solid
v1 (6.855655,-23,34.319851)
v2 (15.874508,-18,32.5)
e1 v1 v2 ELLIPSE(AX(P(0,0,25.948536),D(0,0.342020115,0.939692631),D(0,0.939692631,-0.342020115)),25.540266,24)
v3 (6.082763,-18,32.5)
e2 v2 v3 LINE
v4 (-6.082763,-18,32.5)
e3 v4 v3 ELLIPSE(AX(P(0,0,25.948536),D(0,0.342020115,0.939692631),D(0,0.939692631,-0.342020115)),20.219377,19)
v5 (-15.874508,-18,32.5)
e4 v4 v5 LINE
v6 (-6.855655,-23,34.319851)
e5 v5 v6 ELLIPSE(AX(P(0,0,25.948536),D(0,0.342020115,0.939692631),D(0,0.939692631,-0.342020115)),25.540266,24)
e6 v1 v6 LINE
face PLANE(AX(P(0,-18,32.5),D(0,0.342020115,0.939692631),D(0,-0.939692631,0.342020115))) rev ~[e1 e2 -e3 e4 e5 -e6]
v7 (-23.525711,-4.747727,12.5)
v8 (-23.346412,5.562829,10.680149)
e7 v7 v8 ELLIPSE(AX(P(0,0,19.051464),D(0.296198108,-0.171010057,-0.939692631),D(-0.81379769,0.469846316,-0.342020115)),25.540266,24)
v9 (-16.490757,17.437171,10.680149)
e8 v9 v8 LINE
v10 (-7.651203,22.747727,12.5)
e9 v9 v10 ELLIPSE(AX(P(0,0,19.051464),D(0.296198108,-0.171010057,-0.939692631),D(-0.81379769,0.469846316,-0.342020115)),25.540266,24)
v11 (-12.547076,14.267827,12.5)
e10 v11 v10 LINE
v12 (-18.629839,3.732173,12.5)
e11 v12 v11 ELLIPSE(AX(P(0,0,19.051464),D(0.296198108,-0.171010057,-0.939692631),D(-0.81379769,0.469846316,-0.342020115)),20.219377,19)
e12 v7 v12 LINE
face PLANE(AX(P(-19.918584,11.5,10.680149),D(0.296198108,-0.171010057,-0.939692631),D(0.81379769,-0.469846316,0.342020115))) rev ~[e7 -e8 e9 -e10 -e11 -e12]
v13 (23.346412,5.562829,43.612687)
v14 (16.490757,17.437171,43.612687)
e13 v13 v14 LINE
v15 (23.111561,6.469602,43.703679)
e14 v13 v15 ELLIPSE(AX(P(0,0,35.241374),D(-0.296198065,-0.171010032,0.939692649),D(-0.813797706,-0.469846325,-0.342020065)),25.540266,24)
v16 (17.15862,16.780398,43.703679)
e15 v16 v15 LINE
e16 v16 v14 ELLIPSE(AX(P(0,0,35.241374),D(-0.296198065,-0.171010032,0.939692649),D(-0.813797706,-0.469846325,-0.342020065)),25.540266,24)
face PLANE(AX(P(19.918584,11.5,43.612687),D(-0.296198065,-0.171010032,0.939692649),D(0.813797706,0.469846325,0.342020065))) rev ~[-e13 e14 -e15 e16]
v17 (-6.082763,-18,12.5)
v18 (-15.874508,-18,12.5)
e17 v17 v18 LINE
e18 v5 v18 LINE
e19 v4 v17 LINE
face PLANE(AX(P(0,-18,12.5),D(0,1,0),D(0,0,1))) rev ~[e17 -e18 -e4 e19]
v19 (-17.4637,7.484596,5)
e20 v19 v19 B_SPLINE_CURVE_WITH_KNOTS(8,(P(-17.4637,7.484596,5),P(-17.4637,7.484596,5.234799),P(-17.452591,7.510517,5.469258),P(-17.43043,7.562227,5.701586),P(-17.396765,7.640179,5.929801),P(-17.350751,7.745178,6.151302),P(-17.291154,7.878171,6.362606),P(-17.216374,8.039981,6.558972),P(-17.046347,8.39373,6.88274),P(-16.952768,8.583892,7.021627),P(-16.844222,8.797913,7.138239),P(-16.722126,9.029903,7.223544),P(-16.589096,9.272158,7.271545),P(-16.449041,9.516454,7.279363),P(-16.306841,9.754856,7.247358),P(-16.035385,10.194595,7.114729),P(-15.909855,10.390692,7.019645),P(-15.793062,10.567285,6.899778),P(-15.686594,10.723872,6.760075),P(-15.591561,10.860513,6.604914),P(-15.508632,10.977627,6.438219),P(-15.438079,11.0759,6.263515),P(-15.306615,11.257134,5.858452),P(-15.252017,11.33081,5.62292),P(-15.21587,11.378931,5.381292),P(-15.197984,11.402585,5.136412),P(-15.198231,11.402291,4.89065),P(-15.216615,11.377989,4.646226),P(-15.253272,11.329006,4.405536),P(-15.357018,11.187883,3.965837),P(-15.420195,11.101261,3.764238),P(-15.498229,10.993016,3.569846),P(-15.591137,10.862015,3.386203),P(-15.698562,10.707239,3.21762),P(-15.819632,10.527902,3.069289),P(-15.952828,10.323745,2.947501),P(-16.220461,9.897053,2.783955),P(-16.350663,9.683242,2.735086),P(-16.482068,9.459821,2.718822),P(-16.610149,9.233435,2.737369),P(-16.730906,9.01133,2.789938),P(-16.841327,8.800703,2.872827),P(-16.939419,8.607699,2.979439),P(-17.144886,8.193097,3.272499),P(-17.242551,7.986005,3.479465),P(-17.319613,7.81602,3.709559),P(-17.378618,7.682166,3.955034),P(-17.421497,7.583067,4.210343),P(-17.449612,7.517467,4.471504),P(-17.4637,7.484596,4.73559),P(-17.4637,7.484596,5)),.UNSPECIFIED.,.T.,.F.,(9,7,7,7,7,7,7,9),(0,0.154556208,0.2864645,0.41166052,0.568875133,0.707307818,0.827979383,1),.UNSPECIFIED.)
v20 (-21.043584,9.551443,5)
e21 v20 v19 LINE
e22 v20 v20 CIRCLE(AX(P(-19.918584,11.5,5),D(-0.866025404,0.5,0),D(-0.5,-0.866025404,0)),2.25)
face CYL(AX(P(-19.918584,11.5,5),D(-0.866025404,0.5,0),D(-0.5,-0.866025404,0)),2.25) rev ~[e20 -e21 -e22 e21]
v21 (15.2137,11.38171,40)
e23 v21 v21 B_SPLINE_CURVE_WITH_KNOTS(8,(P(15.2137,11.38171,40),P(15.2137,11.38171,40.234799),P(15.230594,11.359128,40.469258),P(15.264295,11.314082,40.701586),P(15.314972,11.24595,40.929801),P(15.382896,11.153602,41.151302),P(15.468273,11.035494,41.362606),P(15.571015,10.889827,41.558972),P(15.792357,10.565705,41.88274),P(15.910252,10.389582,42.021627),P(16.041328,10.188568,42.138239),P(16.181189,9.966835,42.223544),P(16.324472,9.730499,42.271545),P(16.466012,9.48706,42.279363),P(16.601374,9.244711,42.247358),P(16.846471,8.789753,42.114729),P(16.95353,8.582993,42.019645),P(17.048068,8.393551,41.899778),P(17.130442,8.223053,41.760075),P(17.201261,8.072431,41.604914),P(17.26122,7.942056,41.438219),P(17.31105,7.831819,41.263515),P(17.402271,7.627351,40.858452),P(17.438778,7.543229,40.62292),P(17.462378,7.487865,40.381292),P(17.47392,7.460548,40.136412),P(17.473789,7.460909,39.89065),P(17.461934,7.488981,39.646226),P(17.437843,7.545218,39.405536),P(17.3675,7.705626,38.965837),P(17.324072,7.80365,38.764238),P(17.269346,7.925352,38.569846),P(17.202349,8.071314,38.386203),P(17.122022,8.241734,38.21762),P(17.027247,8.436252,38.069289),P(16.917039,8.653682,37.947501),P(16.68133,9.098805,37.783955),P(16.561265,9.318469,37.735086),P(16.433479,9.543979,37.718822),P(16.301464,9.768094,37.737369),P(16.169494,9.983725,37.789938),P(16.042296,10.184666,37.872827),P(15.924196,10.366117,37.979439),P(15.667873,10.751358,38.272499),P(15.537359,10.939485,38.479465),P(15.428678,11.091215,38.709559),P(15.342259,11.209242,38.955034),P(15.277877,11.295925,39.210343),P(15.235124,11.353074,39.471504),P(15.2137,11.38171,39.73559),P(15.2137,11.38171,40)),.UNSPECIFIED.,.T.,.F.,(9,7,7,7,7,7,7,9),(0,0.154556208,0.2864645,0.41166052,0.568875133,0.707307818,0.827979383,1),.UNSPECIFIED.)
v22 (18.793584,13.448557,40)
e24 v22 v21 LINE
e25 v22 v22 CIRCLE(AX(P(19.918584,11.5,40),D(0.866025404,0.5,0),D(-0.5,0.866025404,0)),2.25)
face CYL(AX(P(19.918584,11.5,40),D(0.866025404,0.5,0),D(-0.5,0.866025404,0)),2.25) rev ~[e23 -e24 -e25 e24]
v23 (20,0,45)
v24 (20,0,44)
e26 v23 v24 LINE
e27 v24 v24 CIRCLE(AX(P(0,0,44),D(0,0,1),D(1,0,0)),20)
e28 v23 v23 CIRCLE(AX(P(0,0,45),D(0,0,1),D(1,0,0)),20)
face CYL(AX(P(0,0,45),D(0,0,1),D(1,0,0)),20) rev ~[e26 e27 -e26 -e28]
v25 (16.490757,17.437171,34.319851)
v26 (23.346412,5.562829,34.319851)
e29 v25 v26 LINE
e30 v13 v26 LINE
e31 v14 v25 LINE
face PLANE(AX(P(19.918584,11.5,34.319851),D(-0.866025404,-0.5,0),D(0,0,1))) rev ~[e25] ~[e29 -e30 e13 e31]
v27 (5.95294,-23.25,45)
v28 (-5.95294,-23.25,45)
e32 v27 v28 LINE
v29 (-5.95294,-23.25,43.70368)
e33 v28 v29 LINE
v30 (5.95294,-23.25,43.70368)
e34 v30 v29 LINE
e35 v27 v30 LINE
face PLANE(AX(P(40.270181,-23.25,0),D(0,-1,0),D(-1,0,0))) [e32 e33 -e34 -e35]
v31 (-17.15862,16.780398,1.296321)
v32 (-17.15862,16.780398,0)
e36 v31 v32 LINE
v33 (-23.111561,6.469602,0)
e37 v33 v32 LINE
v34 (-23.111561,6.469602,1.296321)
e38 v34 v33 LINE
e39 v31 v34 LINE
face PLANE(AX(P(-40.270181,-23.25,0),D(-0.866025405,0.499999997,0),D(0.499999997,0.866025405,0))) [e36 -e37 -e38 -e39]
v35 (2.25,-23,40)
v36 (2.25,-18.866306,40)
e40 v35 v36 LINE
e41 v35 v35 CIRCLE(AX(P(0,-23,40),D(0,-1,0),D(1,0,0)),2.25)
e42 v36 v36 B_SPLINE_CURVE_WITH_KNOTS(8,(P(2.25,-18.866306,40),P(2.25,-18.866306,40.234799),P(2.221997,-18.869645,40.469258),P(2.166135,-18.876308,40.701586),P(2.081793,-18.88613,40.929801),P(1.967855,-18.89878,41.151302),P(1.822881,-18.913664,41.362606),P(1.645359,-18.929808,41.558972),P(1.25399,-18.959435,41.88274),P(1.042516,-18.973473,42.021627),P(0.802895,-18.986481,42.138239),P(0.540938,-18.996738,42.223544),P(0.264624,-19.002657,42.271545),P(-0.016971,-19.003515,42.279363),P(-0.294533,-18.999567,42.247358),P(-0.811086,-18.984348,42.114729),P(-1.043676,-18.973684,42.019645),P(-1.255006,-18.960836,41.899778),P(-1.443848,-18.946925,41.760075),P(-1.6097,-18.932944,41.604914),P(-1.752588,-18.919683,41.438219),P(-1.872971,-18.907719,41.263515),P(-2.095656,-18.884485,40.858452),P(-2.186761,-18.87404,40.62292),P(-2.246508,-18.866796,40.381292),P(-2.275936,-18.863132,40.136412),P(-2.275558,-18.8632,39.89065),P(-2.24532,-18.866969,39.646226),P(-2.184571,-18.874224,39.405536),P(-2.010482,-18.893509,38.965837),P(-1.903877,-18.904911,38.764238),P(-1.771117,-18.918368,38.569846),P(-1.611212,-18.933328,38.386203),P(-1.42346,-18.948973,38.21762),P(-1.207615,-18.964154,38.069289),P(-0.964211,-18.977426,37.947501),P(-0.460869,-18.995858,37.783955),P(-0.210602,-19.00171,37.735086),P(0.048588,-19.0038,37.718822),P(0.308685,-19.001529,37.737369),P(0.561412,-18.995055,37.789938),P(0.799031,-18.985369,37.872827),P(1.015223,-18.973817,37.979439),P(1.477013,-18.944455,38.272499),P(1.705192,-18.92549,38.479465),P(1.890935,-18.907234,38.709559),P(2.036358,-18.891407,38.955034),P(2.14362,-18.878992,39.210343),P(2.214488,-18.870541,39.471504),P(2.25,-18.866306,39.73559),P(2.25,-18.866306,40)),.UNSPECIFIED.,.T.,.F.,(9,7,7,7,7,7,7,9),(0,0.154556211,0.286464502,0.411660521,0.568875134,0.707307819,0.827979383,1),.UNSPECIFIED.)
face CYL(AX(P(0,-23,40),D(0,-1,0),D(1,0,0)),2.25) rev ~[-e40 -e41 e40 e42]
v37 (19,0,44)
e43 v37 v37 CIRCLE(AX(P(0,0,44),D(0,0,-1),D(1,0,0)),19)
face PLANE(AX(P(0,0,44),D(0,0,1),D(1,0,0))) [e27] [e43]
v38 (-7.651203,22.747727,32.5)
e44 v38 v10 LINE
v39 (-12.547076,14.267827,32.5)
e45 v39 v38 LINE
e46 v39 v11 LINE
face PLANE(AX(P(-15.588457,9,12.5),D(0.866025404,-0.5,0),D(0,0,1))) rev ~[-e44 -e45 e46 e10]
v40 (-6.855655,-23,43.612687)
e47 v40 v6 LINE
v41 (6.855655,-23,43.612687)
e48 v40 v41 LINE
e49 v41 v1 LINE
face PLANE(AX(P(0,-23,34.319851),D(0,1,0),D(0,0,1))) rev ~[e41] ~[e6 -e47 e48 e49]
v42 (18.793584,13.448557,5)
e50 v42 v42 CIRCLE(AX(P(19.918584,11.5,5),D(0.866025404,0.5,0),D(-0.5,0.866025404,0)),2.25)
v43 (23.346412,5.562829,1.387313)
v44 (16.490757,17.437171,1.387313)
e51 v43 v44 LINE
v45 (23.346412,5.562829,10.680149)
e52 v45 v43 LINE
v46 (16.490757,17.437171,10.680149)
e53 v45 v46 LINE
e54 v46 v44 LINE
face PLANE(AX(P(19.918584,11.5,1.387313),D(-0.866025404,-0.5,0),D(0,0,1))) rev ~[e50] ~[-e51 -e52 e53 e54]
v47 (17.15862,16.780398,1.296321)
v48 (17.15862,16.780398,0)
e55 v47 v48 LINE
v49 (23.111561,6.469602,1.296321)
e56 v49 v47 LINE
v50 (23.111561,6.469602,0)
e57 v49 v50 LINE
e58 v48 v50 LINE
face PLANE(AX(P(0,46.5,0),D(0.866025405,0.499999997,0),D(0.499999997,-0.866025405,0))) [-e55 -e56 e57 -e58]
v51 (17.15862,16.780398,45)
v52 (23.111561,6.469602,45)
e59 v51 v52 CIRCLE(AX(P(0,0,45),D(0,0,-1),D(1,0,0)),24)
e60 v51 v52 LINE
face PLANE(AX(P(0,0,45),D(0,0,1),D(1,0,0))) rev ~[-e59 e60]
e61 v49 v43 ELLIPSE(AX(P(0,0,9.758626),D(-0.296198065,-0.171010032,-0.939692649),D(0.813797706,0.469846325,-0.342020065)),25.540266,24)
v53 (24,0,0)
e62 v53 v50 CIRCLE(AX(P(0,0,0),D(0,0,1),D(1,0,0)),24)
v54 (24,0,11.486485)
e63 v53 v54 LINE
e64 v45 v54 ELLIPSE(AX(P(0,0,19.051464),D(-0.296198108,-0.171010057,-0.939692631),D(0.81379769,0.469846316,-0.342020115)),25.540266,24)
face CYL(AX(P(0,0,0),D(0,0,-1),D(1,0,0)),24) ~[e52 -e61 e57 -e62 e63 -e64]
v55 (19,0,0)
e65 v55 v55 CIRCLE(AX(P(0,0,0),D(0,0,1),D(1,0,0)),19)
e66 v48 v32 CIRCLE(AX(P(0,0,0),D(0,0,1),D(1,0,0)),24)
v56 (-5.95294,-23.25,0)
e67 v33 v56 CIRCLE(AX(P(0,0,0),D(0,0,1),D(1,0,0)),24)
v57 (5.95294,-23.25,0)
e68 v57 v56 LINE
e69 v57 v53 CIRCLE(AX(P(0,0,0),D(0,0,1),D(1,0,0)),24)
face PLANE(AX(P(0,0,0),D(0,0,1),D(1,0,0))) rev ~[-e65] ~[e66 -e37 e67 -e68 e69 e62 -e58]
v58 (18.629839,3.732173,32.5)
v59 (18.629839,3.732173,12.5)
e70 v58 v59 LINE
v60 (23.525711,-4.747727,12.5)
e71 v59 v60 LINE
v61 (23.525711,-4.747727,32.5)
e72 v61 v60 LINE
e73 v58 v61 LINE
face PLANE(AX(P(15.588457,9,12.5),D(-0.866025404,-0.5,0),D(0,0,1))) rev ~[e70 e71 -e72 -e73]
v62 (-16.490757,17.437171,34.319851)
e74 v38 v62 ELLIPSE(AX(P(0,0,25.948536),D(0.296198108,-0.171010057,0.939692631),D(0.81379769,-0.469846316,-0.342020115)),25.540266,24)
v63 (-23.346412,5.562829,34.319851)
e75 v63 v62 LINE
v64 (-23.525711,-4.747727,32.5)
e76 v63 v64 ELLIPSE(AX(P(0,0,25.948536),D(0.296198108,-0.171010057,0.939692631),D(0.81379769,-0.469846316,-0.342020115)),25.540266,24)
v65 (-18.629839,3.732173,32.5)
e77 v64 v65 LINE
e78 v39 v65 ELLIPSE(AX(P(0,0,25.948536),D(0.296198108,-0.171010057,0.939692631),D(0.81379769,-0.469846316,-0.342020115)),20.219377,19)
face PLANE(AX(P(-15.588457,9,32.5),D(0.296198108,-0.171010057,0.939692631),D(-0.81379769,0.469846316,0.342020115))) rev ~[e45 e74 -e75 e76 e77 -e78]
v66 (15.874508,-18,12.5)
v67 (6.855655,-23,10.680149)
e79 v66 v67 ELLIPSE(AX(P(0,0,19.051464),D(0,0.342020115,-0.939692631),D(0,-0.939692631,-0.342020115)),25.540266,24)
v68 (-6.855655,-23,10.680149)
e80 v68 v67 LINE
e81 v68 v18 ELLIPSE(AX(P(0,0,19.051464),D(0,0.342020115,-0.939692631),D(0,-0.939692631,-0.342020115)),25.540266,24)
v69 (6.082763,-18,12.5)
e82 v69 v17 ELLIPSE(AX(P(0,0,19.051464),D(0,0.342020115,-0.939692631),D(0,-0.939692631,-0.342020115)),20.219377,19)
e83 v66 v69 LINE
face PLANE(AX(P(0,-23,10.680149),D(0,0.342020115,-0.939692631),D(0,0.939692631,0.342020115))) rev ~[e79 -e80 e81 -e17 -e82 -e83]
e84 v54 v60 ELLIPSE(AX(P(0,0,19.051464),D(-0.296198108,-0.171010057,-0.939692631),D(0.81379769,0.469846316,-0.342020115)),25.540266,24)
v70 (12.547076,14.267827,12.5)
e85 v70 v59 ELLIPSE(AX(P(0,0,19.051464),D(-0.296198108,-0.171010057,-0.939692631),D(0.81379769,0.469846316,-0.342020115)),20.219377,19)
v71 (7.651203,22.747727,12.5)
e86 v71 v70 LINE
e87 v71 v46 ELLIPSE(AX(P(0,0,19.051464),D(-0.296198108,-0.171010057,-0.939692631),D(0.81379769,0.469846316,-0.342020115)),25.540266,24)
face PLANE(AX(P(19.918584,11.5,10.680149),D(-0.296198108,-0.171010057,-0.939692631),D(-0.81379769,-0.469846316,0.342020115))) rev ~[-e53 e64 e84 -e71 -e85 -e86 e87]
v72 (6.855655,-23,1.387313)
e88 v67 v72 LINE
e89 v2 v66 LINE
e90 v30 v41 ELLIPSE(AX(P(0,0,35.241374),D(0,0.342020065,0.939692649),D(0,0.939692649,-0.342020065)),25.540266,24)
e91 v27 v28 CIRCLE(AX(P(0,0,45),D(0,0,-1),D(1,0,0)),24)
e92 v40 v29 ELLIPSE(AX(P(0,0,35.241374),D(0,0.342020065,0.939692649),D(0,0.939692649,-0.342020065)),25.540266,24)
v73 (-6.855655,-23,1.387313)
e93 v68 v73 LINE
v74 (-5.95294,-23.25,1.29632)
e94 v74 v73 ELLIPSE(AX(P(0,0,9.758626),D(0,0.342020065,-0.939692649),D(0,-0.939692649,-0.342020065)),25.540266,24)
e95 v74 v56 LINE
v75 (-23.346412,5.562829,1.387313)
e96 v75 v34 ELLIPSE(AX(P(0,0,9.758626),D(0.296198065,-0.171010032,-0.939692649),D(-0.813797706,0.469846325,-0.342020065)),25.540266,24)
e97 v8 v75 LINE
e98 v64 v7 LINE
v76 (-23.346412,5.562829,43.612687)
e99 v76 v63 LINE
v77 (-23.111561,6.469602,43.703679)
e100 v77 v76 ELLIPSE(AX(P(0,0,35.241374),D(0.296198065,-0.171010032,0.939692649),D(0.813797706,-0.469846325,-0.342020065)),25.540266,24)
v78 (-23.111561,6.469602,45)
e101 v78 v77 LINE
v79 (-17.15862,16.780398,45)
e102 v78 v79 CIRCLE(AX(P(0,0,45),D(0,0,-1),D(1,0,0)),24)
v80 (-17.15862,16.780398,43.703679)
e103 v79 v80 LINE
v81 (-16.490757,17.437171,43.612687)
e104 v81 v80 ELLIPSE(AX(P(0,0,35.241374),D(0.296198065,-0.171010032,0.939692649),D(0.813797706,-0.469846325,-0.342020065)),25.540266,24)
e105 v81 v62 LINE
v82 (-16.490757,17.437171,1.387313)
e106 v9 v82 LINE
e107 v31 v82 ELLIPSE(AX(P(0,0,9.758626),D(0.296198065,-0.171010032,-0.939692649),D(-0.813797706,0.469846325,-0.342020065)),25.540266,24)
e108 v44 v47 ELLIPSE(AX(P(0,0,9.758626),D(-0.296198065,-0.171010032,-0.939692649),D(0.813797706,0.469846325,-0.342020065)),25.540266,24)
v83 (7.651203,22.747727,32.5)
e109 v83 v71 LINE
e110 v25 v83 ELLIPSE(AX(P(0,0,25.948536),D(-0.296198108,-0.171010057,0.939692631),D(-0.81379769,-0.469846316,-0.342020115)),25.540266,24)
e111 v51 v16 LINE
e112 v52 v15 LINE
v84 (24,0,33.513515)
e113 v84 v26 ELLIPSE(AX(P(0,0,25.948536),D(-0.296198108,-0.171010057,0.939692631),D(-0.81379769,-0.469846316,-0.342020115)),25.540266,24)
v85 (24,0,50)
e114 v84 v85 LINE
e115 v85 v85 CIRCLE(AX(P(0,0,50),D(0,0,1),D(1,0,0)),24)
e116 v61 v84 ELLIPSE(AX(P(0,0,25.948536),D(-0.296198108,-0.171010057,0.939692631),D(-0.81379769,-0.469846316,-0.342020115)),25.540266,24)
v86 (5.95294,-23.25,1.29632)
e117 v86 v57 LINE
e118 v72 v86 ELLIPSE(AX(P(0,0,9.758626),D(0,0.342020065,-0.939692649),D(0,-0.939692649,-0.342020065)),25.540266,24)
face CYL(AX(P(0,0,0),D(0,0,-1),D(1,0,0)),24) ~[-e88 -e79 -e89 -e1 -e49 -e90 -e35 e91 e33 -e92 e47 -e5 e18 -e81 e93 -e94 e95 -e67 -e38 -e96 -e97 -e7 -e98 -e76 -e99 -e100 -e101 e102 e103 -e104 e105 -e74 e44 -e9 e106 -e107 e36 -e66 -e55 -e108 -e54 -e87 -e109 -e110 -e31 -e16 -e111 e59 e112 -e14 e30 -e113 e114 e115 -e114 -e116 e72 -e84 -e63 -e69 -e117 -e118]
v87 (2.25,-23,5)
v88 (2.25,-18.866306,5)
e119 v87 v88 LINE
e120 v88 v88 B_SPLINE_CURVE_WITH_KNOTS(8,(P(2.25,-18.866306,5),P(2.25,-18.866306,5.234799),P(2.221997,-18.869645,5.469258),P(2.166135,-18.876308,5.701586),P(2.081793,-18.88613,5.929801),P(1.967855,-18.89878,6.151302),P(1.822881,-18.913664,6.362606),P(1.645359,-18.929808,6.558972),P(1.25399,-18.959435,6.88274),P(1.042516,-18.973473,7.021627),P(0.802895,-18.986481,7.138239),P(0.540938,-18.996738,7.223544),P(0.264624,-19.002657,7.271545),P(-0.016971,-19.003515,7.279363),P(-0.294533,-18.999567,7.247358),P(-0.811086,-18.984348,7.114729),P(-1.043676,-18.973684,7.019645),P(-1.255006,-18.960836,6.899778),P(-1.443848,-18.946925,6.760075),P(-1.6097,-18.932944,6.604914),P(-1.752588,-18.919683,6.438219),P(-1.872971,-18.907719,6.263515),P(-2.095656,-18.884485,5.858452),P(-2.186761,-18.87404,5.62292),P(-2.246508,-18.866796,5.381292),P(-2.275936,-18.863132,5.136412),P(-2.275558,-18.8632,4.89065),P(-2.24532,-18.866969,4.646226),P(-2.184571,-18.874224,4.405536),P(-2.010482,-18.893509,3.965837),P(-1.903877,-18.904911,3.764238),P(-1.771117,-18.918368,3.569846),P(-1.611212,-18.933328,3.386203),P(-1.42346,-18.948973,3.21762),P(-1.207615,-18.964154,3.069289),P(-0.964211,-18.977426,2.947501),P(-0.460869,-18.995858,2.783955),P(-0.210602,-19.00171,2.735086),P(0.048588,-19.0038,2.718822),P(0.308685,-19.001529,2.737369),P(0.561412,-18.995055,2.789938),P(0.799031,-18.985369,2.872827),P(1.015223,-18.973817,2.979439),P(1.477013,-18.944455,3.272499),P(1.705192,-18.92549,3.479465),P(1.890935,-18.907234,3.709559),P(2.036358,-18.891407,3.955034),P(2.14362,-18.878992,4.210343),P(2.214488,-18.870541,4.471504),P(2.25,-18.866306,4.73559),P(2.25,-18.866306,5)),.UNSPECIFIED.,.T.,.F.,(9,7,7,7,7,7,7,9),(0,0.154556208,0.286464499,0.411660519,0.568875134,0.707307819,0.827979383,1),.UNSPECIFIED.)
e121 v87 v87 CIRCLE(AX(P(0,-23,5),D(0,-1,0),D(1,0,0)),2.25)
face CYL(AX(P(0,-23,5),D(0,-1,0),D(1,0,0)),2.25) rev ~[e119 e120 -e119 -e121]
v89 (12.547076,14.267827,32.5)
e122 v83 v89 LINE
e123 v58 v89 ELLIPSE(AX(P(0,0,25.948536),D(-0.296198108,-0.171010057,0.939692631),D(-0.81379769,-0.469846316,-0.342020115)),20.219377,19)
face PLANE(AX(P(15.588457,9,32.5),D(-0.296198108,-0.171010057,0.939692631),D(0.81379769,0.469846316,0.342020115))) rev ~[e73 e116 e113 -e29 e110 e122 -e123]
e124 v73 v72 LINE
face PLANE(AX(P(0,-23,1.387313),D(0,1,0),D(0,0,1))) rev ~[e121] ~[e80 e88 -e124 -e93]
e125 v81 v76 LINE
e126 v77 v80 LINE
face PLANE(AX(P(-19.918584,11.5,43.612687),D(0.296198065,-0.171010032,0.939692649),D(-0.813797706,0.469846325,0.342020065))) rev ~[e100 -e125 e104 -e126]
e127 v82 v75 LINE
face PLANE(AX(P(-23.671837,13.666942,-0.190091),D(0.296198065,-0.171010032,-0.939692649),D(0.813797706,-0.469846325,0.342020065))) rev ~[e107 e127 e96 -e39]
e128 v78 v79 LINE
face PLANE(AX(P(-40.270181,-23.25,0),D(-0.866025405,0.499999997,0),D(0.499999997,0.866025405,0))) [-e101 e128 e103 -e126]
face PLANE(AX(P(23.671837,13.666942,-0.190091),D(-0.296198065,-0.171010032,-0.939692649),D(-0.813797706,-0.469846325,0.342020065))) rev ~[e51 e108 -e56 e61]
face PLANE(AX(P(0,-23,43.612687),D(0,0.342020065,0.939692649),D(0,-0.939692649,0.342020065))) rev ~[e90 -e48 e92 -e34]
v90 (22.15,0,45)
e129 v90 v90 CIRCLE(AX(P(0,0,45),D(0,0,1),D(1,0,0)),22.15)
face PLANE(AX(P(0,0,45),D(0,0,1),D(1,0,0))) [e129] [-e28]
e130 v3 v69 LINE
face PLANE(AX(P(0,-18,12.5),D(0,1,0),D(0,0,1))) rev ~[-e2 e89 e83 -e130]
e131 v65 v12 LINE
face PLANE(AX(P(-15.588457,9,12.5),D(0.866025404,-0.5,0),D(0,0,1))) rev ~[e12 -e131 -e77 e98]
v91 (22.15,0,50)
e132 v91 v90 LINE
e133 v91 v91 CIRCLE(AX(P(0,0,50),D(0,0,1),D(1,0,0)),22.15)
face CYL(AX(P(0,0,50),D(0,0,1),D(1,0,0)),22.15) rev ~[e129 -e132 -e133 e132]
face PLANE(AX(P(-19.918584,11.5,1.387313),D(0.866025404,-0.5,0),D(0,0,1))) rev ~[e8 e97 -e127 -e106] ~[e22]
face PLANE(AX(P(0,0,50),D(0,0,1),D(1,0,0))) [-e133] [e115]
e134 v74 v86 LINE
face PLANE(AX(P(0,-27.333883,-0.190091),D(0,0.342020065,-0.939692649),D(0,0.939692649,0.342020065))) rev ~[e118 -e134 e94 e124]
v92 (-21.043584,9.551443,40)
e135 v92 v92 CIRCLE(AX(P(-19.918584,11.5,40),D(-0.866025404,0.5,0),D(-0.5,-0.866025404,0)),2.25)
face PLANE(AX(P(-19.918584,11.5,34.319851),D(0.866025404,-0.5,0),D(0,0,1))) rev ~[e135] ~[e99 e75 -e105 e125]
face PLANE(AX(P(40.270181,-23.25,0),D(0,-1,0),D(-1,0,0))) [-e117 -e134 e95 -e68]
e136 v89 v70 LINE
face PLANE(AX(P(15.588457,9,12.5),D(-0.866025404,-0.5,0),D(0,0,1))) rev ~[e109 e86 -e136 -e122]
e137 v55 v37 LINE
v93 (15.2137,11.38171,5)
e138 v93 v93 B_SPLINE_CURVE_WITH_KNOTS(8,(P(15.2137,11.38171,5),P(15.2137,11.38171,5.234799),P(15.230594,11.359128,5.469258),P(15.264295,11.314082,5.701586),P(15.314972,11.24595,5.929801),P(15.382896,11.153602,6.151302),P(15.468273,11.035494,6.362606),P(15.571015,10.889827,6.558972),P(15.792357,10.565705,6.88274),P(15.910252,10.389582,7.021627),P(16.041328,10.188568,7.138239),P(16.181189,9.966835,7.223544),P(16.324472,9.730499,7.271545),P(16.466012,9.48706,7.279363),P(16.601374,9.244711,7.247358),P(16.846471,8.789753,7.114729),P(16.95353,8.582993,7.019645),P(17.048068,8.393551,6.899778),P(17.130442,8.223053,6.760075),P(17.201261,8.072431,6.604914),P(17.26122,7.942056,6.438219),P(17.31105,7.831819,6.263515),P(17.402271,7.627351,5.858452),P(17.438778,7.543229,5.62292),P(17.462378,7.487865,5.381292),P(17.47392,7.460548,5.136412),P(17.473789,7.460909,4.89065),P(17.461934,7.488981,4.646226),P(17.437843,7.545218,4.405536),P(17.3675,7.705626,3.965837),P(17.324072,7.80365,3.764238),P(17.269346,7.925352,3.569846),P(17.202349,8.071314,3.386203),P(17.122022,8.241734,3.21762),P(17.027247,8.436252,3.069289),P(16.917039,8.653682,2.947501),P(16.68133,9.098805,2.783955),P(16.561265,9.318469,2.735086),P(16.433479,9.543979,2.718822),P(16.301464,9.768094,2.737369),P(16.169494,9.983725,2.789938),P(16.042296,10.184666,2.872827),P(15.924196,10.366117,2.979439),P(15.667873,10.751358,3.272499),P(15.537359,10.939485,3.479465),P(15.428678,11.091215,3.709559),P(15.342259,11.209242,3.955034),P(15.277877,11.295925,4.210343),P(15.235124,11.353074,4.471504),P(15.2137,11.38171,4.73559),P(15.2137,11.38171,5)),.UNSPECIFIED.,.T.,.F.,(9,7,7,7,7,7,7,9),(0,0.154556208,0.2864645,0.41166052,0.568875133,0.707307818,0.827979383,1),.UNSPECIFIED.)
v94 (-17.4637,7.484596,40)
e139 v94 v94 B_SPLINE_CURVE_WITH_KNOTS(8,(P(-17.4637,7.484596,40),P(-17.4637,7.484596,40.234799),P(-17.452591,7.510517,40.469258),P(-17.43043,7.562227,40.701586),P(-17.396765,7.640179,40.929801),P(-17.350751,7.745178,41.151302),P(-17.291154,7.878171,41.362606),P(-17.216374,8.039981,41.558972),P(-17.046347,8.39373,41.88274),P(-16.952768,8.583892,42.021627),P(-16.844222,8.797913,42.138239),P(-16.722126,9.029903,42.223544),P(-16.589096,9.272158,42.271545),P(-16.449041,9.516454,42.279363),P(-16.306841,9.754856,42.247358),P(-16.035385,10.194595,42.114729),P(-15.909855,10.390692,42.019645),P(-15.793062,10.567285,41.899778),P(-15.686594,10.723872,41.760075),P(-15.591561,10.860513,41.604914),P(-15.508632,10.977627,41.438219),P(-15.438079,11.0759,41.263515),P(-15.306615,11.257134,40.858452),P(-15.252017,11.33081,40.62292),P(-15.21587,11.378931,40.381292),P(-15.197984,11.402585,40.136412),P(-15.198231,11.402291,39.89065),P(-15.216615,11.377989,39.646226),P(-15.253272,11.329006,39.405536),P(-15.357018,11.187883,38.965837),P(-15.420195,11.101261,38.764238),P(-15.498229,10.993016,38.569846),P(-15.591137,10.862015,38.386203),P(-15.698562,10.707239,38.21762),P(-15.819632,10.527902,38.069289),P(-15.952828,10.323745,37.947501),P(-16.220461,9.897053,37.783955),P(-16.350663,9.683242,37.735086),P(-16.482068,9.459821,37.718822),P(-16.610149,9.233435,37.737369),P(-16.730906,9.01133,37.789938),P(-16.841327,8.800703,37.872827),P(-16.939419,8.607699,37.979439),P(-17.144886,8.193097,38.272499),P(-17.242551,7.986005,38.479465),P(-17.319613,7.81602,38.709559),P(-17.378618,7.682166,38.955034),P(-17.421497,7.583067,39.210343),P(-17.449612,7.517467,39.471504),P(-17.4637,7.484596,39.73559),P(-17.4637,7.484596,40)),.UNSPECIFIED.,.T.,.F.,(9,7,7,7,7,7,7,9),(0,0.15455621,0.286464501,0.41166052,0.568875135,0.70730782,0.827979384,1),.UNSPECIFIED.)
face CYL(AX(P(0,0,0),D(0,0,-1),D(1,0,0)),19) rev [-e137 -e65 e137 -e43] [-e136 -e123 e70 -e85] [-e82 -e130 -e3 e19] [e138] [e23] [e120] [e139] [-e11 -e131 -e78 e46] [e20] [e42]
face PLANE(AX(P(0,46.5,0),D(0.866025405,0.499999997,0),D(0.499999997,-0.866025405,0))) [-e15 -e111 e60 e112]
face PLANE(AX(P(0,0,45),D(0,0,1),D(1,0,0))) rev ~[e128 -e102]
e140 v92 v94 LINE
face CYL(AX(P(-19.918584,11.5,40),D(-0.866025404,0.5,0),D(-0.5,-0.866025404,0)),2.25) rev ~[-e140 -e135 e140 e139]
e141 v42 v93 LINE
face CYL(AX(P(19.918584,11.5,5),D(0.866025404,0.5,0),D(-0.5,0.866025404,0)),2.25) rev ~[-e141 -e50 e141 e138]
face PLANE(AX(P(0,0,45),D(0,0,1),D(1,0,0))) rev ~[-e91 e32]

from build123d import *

# Parameters (mm, degrees)
F0_R           = 24
F0_R_2         = 19
F1_DEPTH       = 50
F2_R           = 22.15
F3_DEPTH       = 5
F4_R           = 20
F5_DEPTH       = 1
F6_R           = 57.967167
F7_DEPTH       = 45
F9_DEPTH       = 25
F10_COUNT      = 3
F10_ANGLE      = 240
F12_R          = 2.25
F13_DEPTH      = 10
F13_DEPTH_BACK = 10
F14_COUNT      = 3
F14_ANGLE      = 240


with BuildPart() as f1:
    # F0 (on Top) → F1 (new body)
    with BuildSketch(Plane.XY):
        Circle(F0_R)
        Circle(F0_R_2, mode=Mode.SUBTRACT)
    extrude(amount=F1_DEPTH)

    # F2 (on face) → F3 (cut)
    with BuildSketch(Plane.XY.offset(50)):
        Circle(F2_R)
    extrude(amount=-F3_DEPTH, mode=Mode.SUBTRACT)

    # F4 (on face) → F5 (cut)
    with BuildSketch(Plane.XY.offset(45)):
        Circle(F4_R)
    extrude(amount=-F5_DEPTH, mode=Mode.SUBTRACT)

    # F6 (on Top) → F7 (cut)
    with BuildSketch(Plane.XY):
        Circle(F6_R)
        Polygon((0, 46.5), (40.270181, -23.25), (-40.270181, -23.25), align=None, mode=Mode.SUBTRACT)
    extrude(amount=F7_DEPTH, mode=Mode.SUBTRACT)


with BuildPart() as f9:
    # F8 (on Right) → F9 (new body, symmetric)
    with BuildSketch(Plane.YZ):
        Polygon((-23, 34.319851), (-23, 43.612687), (-27.333883, 45.190091), (-27.333883, -0.190091), (-23, 1.387313), (-23, 10.680149), (-18, 12.5), (-18, 22.5), (-18, 32.5), align=None)
    extrude(amount=F9_DEPTH, both=True)


with BuildPart() as f10_1:
    # F10: instance of F9
    add(f9.part.rotate(Axis((0, 0, 0), (0, 0, -1)), 1 * F10_ANGLE / (F10_COUNT - 1)))


with BuildPart() as f10_2:
    # F10: instance of F9
    add(f9.part.rotate(Axis((0, 0, 0), (0, 0, -1)), 2 * F10_ANGLE / (F10_COUNT - 1)))


with BuildPart() as f1_1:
    add(f1.part)

    # F11: cut F10_2, F10_1, F9
    add(f10_2.part, mode=Mode.SUBTRACT)
    add(f10_1.part, mode=Mode.SUBTRACT)
    add(f9.part, mode=Mode.SUBTRACT)


with BuildPart() as f13:
    # F12 (on face) → F13 (new body, two sides)
    with BuildSketch(Plane.XZ.offset(23)) as f13_sk:
        with Locations((0, 40)):
            Circle(F12_R)
        with Locations((0, 5)):
            Circle(F12_R)
    extrude(amount=-F13_DEPTH)
    extrude(f13_sk.sketch, amount=-F13_DEPTH_BACK)


with BuildPart() as f14_1:
    # F14: instance of F13
    add(f13.part.rotate(Axis((0, 0, 0), (0, 0, -1)), 1 * F14_ANGLE / (F14_COUNT - 1)))


with BuildPart() as f14_2:
    # F14: instance of F13
    add(f13.part.rotate(Axis((0, 0, 0), (0, 0, -1)), 2 * F14_ANGLE / (F14_COUNT - 1)))


with BuildPart() as f1_2:
    add(f1_1.part)

    # F15: cut F14_2, F14_1, F13
    add(f14_2.part, mode=Mode.SUBTRACT)
    add(f14_1.part, mode=Mode.SUBTRACT)
    add(f13.part, mode=Mode.SUBTRACT)


solid = f1_2.part
